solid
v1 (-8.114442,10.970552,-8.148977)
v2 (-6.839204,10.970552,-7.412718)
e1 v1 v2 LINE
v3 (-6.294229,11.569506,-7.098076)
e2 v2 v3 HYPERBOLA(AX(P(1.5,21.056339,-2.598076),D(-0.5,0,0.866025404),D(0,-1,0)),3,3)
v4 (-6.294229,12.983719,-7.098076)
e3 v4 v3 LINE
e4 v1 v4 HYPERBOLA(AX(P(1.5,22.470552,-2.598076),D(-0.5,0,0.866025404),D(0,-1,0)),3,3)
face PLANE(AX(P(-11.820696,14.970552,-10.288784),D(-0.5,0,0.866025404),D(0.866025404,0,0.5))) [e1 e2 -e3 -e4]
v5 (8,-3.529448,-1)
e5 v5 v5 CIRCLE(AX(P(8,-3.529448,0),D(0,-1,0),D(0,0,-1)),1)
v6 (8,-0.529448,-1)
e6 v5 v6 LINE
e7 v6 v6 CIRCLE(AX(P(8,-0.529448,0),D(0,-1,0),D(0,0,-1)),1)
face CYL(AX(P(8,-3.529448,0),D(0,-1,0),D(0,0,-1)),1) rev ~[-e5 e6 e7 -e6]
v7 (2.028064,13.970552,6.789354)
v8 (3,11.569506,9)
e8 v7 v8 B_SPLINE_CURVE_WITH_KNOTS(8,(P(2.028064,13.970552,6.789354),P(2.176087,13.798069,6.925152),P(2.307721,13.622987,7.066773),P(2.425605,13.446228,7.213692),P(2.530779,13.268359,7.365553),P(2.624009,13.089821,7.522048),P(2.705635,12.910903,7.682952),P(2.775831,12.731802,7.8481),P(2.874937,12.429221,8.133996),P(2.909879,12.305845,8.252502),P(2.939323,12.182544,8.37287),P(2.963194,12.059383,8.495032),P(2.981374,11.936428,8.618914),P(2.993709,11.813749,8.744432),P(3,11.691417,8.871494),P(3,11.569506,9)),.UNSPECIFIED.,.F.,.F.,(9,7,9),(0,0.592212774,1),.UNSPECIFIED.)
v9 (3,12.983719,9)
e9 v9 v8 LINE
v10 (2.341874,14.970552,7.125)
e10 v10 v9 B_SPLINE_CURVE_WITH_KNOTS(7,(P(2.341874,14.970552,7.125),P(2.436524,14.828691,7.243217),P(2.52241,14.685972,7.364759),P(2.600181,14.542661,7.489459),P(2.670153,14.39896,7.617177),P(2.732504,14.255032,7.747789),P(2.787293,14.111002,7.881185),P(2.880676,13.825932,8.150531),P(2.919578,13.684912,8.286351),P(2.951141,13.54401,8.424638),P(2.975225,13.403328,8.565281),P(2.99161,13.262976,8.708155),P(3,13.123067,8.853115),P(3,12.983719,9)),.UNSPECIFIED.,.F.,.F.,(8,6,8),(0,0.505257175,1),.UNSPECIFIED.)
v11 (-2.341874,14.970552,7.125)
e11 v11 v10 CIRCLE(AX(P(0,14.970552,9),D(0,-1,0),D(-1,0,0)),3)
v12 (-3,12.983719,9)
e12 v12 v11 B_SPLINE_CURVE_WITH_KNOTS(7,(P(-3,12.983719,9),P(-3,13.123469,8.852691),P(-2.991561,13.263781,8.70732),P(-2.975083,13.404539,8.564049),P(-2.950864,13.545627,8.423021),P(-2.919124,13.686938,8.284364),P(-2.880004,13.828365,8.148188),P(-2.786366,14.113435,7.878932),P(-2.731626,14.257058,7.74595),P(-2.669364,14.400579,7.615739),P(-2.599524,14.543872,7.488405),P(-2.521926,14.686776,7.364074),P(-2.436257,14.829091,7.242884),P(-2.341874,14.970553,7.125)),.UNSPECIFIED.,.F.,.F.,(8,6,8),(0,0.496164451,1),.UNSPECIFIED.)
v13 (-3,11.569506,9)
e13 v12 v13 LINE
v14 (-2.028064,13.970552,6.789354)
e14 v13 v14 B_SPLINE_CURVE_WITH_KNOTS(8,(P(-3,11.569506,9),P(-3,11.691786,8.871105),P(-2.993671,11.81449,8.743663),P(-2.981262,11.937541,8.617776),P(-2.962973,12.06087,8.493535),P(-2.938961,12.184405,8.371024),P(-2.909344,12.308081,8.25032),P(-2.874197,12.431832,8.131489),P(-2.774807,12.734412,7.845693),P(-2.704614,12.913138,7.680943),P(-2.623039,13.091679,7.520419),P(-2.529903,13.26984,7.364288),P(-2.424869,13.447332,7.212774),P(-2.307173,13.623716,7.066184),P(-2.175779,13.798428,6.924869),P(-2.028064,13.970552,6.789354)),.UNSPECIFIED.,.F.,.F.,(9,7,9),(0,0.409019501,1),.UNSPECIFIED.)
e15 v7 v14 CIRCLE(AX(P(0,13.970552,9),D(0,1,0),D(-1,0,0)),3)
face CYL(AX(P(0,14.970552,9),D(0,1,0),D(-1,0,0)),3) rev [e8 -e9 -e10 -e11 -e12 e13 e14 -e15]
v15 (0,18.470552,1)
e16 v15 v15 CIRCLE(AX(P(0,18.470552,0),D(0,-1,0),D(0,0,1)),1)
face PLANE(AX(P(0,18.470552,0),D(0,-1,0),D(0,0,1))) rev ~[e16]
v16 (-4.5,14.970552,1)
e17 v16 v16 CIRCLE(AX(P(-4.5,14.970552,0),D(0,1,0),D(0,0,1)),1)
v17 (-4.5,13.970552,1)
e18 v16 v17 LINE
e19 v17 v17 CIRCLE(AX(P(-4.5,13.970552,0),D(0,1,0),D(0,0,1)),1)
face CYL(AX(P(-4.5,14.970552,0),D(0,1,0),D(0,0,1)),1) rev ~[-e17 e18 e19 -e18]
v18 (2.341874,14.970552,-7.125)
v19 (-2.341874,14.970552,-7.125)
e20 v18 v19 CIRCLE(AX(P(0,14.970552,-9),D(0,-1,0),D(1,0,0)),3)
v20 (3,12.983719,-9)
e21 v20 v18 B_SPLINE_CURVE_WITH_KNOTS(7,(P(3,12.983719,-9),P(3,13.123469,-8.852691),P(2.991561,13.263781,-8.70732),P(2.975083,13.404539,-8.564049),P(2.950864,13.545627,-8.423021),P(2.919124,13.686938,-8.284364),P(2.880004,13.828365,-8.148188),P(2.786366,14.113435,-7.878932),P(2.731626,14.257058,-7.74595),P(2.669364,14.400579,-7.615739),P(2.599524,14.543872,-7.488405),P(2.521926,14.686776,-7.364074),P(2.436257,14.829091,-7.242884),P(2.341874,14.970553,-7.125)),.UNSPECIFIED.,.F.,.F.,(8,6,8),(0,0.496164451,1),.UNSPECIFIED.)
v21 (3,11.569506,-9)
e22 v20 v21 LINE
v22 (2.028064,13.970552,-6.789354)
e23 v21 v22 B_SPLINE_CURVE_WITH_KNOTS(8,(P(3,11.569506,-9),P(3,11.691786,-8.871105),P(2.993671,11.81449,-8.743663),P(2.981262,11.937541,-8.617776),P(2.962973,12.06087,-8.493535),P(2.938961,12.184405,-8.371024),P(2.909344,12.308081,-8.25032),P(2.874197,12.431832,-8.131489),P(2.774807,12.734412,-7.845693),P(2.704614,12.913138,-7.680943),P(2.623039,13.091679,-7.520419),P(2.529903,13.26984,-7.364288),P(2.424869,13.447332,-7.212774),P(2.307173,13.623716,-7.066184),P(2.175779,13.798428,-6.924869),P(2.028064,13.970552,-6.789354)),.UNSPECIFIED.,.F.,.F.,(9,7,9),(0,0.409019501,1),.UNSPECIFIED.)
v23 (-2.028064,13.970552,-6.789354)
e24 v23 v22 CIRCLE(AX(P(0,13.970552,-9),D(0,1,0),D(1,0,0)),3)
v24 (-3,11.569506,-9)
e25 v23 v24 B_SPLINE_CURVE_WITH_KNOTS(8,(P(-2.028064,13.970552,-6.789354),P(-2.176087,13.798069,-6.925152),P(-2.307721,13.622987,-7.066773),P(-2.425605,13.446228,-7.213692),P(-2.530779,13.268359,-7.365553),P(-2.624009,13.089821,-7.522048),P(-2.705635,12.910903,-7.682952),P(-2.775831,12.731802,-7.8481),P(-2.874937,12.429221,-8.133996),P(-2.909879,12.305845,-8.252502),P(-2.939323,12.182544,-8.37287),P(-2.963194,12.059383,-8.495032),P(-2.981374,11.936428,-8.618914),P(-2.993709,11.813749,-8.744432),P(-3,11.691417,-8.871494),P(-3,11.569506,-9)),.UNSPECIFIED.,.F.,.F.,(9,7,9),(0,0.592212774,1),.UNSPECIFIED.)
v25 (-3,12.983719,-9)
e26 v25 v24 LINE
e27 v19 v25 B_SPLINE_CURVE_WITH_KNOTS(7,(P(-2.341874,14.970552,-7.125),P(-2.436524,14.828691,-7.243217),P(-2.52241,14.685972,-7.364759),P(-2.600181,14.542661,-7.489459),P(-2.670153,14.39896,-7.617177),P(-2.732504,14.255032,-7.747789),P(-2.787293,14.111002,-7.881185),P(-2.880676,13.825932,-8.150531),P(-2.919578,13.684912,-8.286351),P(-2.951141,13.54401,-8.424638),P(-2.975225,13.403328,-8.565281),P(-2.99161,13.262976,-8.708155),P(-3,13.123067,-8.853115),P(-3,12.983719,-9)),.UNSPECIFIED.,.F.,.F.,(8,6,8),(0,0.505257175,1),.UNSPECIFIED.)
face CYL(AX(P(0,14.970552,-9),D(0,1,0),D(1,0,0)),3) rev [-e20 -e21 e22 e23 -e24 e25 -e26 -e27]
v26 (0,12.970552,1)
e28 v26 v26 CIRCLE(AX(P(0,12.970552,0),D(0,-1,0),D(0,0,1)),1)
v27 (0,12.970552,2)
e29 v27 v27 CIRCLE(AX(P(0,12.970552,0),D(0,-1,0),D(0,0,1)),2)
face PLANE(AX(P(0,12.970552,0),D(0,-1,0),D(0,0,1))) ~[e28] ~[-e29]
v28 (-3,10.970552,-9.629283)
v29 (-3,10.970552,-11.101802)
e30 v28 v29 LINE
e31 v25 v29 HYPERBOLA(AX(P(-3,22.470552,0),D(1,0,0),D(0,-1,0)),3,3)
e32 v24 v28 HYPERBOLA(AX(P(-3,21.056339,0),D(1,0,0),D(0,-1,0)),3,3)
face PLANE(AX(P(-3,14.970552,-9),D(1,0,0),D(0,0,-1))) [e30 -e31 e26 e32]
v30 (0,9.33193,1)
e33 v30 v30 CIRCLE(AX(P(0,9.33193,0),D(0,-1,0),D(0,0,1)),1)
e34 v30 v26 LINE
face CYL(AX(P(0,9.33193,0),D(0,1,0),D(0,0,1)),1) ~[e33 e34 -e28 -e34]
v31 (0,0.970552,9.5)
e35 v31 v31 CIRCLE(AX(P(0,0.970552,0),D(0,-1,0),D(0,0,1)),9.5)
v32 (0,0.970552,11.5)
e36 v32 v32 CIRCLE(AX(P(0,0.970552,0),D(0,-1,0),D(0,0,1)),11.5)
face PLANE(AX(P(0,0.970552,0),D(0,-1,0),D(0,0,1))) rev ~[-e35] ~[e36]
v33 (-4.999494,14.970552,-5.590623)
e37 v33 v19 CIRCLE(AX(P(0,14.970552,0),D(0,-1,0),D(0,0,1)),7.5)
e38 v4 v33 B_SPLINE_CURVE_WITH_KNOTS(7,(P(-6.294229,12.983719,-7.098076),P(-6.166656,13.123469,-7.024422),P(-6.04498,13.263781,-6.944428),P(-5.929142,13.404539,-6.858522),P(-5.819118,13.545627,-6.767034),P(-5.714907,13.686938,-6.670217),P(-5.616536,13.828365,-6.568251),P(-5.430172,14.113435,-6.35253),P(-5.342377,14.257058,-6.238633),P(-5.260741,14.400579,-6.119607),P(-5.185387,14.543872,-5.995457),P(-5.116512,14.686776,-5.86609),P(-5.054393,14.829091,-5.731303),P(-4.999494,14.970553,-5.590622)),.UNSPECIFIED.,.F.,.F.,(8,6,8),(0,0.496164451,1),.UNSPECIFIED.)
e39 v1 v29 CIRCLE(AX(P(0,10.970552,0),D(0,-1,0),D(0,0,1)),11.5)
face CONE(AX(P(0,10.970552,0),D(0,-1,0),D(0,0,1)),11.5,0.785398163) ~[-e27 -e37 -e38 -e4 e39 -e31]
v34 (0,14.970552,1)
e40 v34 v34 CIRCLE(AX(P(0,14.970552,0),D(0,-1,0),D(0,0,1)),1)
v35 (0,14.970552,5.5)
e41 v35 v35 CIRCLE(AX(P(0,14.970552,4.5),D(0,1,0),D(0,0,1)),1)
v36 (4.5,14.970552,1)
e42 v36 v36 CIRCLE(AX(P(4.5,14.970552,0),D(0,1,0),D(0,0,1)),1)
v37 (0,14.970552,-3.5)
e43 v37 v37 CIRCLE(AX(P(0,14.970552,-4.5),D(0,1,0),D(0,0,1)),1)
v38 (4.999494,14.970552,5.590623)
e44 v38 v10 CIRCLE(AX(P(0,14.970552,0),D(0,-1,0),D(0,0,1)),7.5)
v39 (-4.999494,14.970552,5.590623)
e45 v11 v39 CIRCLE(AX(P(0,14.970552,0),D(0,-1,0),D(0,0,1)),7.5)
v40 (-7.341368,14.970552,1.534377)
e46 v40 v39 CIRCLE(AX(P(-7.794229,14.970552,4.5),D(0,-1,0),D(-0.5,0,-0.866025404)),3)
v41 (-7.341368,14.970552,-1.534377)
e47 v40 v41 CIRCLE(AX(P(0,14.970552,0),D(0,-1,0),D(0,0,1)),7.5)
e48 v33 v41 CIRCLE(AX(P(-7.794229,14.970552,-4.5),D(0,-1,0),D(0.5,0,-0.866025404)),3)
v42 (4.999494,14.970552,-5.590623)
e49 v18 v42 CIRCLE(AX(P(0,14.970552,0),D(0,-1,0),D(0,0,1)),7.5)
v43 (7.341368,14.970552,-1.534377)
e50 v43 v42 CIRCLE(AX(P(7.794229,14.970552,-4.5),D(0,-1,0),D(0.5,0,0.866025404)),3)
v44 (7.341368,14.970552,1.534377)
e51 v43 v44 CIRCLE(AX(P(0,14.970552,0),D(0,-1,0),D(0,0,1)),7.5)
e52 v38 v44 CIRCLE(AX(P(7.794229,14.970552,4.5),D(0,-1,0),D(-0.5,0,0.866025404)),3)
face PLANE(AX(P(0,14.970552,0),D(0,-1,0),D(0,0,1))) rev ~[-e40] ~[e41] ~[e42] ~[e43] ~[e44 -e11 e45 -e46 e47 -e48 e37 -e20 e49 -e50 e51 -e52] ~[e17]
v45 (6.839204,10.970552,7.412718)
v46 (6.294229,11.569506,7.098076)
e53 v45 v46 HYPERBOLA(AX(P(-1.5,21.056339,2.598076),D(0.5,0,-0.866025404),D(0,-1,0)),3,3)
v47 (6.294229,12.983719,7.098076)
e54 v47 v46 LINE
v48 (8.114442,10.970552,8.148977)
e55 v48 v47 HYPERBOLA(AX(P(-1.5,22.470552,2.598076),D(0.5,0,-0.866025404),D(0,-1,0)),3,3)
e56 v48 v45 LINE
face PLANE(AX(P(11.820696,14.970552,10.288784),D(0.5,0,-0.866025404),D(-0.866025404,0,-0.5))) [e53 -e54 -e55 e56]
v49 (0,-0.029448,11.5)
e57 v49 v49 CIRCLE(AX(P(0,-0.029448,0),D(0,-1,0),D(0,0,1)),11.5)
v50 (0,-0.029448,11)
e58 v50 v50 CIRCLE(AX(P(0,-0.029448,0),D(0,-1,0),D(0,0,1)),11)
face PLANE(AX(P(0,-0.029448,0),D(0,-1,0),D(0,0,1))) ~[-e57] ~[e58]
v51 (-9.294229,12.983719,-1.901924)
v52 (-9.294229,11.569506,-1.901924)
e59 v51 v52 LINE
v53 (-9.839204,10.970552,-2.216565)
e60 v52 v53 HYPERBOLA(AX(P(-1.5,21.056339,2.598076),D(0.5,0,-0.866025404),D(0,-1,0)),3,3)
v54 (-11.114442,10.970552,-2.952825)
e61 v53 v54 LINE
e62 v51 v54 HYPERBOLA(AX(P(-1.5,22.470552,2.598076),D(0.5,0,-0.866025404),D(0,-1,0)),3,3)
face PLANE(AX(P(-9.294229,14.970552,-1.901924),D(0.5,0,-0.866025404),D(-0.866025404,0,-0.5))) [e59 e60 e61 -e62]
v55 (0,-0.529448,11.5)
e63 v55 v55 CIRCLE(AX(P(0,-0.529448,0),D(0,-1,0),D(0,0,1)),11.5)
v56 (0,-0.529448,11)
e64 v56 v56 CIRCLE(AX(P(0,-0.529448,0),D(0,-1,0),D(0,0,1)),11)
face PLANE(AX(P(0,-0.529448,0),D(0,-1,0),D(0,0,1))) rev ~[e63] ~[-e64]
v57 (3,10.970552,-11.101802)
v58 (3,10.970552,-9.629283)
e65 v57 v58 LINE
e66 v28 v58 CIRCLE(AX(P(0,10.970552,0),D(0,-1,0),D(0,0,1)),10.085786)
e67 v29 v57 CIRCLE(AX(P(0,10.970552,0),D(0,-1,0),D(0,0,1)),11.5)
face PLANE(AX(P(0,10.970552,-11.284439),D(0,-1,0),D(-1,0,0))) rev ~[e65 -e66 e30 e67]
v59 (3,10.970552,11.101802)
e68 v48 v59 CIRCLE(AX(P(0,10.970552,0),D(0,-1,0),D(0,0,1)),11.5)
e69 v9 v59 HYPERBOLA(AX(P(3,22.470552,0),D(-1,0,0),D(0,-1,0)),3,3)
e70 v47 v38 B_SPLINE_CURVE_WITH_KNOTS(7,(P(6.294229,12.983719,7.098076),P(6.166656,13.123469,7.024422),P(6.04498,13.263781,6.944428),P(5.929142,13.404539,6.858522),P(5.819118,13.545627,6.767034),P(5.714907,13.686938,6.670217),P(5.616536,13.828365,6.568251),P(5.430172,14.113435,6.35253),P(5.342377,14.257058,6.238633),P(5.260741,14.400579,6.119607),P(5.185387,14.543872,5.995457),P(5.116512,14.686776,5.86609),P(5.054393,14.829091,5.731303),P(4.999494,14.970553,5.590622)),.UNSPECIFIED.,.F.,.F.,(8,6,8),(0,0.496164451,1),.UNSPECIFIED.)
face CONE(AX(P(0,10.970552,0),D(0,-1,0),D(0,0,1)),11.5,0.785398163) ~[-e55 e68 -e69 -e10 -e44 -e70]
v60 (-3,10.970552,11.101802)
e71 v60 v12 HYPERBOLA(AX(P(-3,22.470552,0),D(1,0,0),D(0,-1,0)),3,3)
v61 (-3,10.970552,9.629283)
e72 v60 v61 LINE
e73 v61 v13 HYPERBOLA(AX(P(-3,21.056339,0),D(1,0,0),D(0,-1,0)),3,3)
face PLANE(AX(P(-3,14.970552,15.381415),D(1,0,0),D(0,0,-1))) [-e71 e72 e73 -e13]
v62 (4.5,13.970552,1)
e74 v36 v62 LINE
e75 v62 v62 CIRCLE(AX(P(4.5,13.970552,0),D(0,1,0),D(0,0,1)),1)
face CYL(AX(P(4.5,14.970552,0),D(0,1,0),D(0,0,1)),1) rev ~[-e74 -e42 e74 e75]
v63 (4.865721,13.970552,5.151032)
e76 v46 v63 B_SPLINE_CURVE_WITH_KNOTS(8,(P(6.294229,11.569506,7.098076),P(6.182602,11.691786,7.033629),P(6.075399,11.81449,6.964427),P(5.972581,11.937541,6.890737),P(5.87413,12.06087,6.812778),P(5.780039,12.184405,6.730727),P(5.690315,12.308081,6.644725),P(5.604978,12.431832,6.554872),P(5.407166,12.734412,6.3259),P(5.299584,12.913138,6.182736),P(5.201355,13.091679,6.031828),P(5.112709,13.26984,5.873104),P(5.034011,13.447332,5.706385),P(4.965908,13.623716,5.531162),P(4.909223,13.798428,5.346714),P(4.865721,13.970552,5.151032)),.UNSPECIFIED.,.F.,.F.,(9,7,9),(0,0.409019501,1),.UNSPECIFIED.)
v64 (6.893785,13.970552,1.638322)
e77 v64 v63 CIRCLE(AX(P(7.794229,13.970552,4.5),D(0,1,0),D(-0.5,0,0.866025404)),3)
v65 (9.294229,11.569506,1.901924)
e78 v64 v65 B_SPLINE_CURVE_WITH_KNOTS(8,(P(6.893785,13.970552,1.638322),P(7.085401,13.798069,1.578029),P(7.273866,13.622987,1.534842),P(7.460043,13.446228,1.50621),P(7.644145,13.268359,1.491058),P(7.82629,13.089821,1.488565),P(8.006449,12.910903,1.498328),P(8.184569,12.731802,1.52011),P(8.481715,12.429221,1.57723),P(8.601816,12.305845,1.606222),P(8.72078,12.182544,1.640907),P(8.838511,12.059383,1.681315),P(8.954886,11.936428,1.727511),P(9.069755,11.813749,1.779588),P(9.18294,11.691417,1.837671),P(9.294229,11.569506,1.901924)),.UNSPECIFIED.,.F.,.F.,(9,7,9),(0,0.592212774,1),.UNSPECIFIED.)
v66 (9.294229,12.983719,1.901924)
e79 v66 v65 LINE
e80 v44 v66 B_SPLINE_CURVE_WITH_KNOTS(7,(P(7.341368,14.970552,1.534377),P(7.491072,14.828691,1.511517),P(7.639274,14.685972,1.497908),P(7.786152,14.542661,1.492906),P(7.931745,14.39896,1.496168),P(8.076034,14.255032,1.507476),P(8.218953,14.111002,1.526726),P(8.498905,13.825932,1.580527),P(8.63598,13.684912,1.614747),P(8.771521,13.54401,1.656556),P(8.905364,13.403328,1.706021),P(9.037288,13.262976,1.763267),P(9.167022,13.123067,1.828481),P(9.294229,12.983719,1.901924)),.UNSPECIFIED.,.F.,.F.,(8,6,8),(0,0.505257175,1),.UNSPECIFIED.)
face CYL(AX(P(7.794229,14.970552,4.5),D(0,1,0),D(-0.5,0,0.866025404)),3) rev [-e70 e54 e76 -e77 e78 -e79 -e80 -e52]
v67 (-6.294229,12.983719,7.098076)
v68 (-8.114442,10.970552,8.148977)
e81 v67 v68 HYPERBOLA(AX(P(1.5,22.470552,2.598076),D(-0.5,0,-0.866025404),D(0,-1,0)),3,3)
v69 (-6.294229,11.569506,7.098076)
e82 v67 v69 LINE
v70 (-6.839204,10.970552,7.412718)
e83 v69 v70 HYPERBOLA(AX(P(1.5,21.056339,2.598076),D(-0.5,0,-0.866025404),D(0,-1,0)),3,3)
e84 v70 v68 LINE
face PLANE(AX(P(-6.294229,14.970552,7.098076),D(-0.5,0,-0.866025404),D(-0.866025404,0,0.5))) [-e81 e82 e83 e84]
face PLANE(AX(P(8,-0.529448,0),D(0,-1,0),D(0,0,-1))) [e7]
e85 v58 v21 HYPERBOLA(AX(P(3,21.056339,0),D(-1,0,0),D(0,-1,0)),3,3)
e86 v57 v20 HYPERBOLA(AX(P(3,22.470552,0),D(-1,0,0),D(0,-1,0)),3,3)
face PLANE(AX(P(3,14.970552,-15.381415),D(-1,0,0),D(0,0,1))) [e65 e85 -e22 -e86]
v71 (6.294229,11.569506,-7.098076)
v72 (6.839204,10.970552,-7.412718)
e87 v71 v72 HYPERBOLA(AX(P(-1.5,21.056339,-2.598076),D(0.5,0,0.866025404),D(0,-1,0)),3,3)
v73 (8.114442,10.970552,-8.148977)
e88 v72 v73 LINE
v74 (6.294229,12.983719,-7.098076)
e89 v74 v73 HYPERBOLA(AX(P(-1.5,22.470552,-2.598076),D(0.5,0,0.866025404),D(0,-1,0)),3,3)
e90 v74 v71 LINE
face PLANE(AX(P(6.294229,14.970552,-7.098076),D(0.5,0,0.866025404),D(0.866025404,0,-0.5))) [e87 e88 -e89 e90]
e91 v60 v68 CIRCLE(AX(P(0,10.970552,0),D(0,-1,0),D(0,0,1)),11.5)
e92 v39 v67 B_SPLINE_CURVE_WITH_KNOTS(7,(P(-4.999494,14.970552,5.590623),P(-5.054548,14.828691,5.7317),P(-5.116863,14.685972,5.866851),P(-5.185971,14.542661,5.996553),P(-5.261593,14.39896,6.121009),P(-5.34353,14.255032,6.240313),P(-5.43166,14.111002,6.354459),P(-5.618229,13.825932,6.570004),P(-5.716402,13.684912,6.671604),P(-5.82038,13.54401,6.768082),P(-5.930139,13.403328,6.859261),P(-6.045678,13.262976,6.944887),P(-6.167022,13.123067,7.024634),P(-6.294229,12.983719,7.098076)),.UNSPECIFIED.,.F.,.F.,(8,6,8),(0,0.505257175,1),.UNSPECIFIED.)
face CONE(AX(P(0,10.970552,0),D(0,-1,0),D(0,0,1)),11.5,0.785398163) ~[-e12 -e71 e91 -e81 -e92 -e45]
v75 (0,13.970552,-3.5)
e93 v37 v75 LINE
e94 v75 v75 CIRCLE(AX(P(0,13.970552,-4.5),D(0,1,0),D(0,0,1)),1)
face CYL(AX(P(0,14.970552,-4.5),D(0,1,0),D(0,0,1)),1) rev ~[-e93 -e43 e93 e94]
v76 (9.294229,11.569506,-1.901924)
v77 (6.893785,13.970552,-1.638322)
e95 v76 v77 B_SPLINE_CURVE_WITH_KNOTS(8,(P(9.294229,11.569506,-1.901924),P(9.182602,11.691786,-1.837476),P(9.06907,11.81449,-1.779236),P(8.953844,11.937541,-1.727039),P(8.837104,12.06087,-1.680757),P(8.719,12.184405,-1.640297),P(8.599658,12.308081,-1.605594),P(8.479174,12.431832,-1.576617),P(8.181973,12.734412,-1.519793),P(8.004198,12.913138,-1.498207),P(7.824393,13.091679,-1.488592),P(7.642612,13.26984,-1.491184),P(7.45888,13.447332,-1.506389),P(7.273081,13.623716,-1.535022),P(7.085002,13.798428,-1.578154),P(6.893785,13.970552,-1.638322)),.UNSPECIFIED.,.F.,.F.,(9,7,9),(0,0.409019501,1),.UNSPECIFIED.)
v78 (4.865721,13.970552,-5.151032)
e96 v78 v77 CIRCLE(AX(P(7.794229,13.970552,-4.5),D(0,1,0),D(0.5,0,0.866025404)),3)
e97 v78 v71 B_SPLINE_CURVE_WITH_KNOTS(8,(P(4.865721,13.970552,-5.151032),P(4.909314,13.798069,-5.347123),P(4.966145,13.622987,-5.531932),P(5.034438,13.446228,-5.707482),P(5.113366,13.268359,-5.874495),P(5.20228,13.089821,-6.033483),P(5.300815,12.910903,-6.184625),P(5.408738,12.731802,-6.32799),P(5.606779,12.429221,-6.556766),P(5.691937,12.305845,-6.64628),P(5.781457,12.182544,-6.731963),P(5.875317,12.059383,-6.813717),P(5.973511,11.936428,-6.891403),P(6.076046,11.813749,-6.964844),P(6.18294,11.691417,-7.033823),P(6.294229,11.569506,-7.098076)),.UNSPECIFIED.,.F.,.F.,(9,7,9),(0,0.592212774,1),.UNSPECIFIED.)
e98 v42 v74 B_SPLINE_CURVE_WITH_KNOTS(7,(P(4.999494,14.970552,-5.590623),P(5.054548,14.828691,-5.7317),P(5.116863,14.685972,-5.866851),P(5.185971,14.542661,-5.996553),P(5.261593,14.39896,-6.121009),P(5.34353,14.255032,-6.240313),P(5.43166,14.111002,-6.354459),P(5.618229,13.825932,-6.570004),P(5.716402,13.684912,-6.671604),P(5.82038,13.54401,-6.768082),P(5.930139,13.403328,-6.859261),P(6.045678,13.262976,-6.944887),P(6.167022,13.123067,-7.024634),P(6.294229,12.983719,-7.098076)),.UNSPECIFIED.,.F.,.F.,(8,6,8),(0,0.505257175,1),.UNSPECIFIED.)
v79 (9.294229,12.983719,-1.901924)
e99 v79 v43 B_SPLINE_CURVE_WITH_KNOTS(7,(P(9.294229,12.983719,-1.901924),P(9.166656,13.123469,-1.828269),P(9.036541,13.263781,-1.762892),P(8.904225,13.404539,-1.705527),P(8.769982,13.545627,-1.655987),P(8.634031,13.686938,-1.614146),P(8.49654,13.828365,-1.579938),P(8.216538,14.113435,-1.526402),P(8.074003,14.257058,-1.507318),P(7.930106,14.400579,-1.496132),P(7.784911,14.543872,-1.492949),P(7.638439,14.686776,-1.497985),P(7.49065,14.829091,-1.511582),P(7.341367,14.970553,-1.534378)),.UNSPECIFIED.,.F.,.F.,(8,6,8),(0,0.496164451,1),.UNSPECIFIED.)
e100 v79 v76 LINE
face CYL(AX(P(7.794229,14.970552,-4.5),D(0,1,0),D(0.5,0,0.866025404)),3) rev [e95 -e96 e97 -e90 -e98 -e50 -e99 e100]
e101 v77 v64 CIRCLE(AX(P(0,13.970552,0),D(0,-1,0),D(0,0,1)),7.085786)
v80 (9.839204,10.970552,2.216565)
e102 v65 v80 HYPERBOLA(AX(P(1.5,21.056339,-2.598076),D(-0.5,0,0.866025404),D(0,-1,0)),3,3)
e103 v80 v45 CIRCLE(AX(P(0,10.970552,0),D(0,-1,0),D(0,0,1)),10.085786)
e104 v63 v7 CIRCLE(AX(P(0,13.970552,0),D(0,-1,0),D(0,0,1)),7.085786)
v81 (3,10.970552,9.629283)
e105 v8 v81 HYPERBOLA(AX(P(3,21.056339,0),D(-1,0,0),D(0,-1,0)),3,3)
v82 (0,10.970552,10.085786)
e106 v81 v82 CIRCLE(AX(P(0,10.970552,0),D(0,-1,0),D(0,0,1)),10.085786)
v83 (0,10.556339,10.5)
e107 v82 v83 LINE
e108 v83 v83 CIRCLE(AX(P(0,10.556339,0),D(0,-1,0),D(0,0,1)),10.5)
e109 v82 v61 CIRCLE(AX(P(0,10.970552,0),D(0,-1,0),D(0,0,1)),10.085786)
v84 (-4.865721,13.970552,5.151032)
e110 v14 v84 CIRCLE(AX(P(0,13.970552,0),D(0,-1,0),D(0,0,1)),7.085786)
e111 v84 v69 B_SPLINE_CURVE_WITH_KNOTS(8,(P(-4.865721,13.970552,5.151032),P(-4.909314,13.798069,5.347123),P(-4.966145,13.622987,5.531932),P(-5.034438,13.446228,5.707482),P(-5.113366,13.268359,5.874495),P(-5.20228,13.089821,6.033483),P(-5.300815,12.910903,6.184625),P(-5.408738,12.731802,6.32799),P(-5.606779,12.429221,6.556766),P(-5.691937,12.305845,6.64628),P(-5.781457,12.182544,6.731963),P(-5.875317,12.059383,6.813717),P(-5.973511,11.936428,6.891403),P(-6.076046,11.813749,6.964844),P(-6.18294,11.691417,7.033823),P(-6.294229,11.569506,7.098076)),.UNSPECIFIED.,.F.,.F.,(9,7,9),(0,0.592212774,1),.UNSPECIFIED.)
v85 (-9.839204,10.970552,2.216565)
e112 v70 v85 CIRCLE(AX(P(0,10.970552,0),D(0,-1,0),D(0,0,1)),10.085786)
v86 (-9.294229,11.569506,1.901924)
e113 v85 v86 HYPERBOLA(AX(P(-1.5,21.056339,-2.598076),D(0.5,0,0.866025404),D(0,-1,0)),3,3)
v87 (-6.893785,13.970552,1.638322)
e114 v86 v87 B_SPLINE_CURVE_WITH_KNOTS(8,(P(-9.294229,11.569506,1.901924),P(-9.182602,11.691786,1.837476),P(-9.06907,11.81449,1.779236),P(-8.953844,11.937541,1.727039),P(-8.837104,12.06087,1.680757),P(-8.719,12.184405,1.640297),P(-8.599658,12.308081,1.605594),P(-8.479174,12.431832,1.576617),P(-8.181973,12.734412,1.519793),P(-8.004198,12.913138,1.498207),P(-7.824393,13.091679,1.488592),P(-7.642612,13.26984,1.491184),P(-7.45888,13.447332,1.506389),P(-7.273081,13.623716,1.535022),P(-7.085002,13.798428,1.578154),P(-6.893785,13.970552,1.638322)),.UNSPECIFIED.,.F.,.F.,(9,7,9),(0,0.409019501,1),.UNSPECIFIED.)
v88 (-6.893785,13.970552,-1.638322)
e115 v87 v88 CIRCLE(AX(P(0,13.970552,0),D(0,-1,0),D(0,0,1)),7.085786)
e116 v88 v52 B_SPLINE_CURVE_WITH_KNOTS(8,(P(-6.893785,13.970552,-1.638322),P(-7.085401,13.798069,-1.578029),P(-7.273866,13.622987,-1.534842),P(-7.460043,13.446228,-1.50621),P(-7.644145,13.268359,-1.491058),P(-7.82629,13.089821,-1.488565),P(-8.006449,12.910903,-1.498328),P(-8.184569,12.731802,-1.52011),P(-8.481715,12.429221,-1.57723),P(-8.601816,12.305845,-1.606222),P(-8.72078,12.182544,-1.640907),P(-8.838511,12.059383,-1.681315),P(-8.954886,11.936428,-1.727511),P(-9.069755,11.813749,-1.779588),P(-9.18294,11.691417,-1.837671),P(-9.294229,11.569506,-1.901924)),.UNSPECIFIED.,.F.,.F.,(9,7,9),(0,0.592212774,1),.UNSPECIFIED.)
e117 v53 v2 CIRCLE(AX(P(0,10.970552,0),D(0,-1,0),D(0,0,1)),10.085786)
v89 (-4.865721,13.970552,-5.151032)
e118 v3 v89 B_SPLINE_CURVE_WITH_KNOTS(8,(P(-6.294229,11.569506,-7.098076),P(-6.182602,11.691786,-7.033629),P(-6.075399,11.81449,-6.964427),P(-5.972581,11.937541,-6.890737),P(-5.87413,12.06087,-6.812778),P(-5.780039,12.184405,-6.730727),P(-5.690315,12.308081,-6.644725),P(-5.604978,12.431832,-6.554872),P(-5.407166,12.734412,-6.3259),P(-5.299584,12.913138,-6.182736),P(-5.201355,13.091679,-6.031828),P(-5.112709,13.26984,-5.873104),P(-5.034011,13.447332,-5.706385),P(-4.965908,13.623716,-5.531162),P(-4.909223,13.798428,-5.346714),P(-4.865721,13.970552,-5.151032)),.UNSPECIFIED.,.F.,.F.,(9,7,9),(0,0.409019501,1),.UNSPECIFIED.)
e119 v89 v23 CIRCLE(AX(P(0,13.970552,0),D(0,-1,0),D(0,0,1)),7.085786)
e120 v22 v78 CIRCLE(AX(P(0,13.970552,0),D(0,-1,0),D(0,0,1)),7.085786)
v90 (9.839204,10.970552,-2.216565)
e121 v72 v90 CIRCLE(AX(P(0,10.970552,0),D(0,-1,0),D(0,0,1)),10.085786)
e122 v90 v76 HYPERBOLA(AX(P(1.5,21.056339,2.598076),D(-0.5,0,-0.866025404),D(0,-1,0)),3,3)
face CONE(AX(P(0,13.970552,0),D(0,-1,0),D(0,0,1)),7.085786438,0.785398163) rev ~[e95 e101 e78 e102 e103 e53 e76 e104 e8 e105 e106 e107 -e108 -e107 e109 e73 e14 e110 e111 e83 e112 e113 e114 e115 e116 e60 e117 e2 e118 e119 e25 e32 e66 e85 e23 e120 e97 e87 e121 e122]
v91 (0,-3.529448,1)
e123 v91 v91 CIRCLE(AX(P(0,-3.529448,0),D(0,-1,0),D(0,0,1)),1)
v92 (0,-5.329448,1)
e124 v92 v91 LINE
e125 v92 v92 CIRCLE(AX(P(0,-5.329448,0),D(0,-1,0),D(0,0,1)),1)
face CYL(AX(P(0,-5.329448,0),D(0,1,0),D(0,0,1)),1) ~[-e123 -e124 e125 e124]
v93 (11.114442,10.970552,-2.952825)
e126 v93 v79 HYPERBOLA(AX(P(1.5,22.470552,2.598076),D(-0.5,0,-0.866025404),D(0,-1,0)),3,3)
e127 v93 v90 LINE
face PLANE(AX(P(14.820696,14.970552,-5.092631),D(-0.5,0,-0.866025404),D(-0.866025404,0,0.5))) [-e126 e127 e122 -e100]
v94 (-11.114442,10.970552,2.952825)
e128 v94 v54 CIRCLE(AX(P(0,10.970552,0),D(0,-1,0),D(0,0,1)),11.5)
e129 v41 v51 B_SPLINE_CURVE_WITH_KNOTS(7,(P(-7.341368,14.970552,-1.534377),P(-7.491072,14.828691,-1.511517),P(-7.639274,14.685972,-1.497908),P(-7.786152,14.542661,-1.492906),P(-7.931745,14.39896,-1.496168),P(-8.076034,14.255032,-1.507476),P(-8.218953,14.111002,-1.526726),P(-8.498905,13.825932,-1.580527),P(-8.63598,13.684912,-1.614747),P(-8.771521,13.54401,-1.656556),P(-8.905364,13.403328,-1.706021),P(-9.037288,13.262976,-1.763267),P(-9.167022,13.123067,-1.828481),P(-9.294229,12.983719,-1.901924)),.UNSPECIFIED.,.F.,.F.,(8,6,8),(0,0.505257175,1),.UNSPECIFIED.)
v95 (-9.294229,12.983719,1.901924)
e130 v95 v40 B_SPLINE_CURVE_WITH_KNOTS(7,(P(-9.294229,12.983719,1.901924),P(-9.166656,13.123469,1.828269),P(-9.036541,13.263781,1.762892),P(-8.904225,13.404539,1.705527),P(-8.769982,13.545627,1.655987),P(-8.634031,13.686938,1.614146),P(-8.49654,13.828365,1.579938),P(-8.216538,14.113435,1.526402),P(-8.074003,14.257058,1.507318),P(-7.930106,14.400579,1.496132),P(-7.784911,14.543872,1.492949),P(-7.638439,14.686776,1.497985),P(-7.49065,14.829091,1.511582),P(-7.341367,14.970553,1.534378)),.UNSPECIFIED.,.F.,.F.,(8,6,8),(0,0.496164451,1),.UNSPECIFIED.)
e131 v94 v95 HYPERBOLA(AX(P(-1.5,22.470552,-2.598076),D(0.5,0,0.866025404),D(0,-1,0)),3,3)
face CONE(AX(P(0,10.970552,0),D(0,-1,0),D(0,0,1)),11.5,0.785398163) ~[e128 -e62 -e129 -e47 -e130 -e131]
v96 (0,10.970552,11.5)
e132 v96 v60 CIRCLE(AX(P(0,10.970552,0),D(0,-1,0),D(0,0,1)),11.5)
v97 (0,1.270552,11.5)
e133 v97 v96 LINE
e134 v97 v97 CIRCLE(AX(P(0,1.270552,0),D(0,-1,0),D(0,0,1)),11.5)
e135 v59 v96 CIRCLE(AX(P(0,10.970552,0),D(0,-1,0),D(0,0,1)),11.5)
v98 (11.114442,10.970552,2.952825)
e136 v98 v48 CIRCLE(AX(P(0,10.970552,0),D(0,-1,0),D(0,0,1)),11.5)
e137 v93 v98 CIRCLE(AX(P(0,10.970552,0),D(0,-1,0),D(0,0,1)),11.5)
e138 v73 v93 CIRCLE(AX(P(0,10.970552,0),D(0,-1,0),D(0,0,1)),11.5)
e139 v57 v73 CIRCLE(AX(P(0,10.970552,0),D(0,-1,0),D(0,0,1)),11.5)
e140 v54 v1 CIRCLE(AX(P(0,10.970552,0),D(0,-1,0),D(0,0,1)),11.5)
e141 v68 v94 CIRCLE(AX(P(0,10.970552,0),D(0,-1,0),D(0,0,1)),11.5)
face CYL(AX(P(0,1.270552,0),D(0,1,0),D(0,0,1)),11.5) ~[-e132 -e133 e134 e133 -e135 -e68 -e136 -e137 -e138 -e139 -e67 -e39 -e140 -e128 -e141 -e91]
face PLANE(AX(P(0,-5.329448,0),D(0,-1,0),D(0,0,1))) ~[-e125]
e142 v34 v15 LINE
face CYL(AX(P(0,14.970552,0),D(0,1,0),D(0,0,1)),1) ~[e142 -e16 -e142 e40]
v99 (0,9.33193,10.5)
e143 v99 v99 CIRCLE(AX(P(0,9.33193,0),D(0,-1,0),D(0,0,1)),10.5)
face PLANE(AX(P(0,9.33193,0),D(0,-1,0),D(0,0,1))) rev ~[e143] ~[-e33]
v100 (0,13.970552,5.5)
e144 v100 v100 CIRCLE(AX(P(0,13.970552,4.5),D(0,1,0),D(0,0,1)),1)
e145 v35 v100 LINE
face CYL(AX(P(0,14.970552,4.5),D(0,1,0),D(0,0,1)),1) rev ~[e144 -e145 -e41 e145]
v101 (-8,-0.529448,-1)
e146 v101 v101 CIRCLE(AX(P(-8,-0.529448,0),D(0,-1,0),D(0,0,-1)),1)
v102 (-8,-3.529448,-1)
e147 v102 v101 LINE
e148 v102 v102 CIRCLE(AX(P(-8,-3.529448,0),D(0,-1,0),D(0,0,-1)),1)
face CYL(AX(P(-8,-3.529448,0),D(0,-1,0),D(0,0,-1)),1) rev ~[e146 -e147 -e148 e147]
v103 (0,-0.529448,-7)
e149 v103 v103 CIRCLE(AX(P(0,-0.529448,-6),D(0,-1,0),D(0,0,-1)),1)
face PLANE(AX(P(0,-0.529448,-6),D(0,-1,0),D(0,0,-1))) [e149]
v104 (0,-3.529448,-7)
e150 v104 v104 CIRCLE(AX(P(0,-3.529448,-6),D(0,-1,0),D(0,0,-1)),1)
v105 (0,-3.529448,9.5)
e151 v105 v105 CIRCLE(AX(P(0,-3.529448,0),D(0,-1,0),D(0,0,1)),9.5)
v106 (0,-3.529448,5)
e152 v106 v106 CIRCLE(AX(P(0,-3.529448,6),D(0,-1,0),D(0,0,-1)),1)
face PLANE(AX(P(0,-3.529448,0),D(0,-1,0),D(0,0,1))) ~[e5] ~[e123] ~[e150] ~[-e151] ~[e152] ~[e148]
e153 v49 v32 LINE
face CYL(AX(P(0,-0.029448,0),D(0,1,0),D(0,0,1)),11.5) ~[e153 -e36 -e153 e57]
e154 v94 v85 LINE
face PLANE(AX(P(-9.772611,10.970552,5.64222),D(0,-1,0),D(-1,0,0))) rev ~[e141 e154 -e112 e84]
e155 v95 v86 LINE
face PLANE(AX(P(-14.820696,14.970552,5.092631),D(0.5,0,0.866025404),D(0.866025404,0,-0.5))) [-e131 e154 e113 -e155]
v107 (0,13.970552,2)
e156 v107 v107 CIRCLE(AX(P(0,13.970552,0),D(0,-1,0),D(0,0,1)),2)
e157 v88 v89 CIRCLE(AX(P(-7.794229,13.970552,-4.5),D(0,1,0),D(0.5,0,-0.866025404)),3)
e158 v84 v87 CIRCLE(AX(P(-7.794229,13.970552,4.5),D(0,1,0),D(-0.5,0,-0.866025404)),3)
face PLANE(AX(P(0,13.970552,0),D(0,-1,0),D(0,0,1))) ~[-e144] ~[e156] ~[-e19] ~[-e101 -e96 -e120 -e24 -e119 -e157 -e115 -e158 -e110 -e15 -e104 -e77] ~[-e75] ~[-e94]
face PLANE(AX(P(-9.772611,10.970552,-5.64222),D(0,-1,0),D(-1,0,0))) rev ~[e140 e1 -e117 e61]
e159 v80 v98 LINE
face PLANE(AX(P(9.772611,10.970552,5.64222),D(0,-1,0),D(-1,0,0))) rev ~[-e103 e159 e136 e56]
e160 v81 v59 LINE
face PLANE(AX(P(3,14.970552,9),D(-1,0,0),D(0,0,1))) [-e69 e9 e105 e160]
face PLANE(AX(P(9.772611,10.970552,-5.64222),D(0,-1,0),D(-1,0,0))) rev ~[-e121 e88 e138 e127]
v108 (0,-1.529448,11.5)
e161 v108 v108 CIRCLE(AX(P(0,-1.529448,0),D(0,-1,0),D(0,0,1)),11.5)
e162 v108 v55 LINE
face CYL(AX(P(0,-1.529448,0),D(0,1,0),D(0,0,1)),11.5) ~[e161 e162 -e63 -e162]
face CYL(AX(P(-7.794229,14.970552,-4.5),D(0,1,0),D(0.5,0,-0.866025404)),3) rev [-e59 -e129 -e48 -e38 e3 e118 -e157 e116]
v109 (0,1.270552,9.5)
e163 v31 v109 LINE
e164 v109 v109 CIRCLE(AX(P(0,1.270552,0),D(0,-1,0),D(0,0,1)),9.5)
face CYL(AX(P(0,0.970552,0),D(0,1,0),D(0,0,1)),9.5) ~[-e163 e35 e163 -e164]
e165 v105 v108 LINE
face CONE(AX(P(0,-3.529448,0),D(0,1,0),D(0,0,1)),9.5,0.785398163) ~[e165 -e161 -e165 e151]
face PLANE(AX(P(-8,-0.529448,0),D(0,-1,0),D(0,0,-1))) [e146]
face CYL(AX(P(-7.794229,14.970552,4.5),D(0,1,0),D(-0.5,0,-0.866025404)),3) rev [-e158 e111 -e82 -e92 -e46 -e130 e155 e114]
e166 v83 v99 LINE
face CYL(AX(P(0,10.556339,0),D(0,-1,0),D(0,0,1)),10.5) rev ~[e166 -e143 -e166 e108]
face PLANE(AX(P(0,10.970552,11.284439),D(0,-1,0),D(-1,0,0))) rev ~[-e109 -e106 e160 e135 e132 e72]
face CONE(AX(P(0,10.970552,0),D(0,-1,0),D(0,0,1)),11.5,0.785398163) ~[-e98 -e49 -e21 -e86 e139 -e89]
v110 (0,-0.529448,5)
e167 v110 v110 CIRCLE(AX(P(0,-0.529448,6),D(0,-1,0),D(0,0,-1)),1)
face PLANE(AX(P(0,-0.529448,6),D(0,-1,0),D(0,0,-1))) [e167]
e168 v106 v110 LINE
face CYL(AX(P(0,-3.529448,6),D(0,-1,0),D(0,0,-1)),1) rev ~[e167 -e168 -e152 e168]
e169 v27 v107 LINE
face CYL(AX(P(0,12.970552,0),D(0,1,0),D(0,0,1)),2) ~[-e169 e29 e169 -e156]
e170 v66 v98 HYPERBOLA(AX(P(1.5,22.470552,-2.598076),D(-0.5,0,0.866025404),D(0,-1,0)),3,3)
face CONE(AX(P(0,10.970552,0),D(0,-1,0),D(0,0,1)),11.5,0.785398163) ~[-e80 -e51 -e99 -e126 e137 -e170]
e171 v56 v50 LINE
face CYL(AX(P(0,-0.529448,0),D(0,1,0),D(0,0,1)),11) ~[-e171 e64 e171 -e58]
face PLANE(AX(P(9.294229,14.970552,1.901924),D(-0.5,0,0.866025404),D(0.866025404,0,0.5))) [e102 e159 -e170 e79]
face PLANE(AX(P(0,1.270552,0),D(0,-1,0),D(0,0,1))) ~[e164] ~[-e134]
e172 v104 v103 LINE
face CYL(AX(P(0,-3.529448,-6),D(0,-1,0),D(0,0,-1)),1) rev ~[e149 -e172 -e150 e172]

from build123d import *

# Parameters (mm, degrees)
SKETCH2_R          = 1
CUT_EXTRUDE1_DEPTH = 4
SKETCH3_R          = 1
CUT_EXTRUDE2_DEPTH = 3


with BuildPart() as part:
    # Sketch1 → Revolve1 (revolve)
    with BuildSketch(Plane.XY, mode=Mode.PRIVATE) as revolve1_sk:
        Polygon((0, 18.470552147), (0, 0), (0, -5.329447853), (1, -5.329447853), (1, -3.529447853), (9.5, -3.529447853), (11.5, -1.529447853), (11.5, -0.529447853), (11, -0.529447853), (11, -0.029447853), (11.5, -0.029447853), (11.5, 0.970552147), (9.5, 0.970552147), (9.5, 1.270552147), (11.5, 1.270552147), (11.5, 10.970552147), (7.5, 14.970552147), (1, 14.970552147), (1, 18.470552147), align=None)
        Polygon((2, 13.970552147), (7.085786438, 13.970552147), (10.5, 10.556338585), (10.5, 9.331929575), (1, 9.331929575), (1, 12.970552147), (2, 12.970552147), align=None, mode=Mode.SUBTRACT)
    revolve(revolve1_sk.sketch.rotate(Axis((0, 18.470552147, 0), (0, -1, 0)), 90), axis=Axis((0, 18.470552147, 0), (0, -1, 0)))

    # Sketch2 → Cut-Extrude1 (cut)
    with BuildSketch(Plane(origin=(0, 14.970552147, 0), x_dir=(1, 0, 0), z_dir=(0, 1, 0))):
        with Locations(Location((0, -4.5, 0), (0, 0, 270))):
            Circle(SKETCH2_R)
        with Locations(Location((-4.5, 0, 0), (0, 0, 270))):
            Circle(SKETCH2_R)
        with Locations(Location((0, 4.5, 0), (0, 0, 270))):
            Circle(SKETCH2_R)
        with Locations(Location((4.5, 0, 0), (0, 0, 270))):
            Circle(SKETCH2_R)
        with BuildLine():
            Line((-3, 9), (-3, 15.381415119))
            Line((-3, 15.381415119), (3, 15.381415119))
            Line((3, 15.381415119), (3, 9))
            ThreePointArc((3, 9), (0, 6), (-3, 9))
        make_face()
        with BuildLine():
            Line((14.820696239, 5.092631348), (9.294228634, 1.901923789))
            ThreePointArc((9.294228634, 1.901923789), (5.196152423, 3), (6.294228634, 7.098076211))
            Line((6.294228634, 7.098076211), (11.820696239, 10.288783771))
            Line((11.820696239, 10.288783771), (14.820696239, 5.092631348))
        make_face()
        with BuildLine():
            Line((11.820696239, -10.288783771), (6.294228634, -7.098076211))
            ThreePointArc((6.294228634, -7.098076211), (5.196152423, -3), (9.294228634, -1.901923789))
            Line((9.294228634, -1.901923789), (14.820696239, -5.092631348))
            Line((14.820696239, -5.092631348), (11.820696239, -10.288783771))
        make_face()
        with BuildLine():
            Line((-3, -15.381415119), (-3, -9))
            ThreePointArc((-3, -9), (0, -6), (3, -9))
            Line((3, -9), (3, -15.381415119))
            Line((3, -15.381415119), (-3, -15.381415119))
        make_face()
        with BuildLine():
            Line((-14.820696239, -5.092631348), (-9.294228634, -1.901923789))
            ThreePointArc((-9.294228634, -1.901923789), (-5.196152423, -3), (-6.294228634, -7.098076211))
            Line((-6.294228634, -7.098076211), (-11.820696239, -10.288783771))
            Line((-11.820696239, -10.288783771), (-14.820696239, -5.092631348))
        make_face()
        with BuildLine():
            Line((-11.820696239, 10.288783771), (-6.294228634, 7.098076211))
            ThreePointArc((-6.294228634, 7.098076211), (-5.196152423, 3), (-9.294228634, 1.901923789))
            Line((-9.294228634, 1.901923789), (-14.820696239, 5.092631348))
            Line((-14.820696239, 5.092631348), (-11.820696239, 10.288783771))
        make_face()
    extrude(amount=-CUT_EXTRUDE1_DEPTH, mode=Mode.SUBTRACT)

    # Sketch3 → Cut-Extrude2 (cut)
    with BuildSketch(Plane.XZ.offset(3.529447853)):
        with Locations(Location((0, 6, 0), (0, 0, 270))):
            Circle(SKETCH3_R)
        with Locations(Location((0, -6, 0), (0, 0, 270))):
            Circle(SKETCH3_R)
        with Locations(Location((-8, 0, 0), (0, 0, 270))):
            Circle(SKETCH3_R)
        with Locations(Location((8, 0, 0), (0, 0, 270))):
            Circle(SKETCH3_R)
    extrude(amount=-CUT_EXTRUDE2_DEPTH, mode=Mode.SUBTRACT)


solid = part.part
